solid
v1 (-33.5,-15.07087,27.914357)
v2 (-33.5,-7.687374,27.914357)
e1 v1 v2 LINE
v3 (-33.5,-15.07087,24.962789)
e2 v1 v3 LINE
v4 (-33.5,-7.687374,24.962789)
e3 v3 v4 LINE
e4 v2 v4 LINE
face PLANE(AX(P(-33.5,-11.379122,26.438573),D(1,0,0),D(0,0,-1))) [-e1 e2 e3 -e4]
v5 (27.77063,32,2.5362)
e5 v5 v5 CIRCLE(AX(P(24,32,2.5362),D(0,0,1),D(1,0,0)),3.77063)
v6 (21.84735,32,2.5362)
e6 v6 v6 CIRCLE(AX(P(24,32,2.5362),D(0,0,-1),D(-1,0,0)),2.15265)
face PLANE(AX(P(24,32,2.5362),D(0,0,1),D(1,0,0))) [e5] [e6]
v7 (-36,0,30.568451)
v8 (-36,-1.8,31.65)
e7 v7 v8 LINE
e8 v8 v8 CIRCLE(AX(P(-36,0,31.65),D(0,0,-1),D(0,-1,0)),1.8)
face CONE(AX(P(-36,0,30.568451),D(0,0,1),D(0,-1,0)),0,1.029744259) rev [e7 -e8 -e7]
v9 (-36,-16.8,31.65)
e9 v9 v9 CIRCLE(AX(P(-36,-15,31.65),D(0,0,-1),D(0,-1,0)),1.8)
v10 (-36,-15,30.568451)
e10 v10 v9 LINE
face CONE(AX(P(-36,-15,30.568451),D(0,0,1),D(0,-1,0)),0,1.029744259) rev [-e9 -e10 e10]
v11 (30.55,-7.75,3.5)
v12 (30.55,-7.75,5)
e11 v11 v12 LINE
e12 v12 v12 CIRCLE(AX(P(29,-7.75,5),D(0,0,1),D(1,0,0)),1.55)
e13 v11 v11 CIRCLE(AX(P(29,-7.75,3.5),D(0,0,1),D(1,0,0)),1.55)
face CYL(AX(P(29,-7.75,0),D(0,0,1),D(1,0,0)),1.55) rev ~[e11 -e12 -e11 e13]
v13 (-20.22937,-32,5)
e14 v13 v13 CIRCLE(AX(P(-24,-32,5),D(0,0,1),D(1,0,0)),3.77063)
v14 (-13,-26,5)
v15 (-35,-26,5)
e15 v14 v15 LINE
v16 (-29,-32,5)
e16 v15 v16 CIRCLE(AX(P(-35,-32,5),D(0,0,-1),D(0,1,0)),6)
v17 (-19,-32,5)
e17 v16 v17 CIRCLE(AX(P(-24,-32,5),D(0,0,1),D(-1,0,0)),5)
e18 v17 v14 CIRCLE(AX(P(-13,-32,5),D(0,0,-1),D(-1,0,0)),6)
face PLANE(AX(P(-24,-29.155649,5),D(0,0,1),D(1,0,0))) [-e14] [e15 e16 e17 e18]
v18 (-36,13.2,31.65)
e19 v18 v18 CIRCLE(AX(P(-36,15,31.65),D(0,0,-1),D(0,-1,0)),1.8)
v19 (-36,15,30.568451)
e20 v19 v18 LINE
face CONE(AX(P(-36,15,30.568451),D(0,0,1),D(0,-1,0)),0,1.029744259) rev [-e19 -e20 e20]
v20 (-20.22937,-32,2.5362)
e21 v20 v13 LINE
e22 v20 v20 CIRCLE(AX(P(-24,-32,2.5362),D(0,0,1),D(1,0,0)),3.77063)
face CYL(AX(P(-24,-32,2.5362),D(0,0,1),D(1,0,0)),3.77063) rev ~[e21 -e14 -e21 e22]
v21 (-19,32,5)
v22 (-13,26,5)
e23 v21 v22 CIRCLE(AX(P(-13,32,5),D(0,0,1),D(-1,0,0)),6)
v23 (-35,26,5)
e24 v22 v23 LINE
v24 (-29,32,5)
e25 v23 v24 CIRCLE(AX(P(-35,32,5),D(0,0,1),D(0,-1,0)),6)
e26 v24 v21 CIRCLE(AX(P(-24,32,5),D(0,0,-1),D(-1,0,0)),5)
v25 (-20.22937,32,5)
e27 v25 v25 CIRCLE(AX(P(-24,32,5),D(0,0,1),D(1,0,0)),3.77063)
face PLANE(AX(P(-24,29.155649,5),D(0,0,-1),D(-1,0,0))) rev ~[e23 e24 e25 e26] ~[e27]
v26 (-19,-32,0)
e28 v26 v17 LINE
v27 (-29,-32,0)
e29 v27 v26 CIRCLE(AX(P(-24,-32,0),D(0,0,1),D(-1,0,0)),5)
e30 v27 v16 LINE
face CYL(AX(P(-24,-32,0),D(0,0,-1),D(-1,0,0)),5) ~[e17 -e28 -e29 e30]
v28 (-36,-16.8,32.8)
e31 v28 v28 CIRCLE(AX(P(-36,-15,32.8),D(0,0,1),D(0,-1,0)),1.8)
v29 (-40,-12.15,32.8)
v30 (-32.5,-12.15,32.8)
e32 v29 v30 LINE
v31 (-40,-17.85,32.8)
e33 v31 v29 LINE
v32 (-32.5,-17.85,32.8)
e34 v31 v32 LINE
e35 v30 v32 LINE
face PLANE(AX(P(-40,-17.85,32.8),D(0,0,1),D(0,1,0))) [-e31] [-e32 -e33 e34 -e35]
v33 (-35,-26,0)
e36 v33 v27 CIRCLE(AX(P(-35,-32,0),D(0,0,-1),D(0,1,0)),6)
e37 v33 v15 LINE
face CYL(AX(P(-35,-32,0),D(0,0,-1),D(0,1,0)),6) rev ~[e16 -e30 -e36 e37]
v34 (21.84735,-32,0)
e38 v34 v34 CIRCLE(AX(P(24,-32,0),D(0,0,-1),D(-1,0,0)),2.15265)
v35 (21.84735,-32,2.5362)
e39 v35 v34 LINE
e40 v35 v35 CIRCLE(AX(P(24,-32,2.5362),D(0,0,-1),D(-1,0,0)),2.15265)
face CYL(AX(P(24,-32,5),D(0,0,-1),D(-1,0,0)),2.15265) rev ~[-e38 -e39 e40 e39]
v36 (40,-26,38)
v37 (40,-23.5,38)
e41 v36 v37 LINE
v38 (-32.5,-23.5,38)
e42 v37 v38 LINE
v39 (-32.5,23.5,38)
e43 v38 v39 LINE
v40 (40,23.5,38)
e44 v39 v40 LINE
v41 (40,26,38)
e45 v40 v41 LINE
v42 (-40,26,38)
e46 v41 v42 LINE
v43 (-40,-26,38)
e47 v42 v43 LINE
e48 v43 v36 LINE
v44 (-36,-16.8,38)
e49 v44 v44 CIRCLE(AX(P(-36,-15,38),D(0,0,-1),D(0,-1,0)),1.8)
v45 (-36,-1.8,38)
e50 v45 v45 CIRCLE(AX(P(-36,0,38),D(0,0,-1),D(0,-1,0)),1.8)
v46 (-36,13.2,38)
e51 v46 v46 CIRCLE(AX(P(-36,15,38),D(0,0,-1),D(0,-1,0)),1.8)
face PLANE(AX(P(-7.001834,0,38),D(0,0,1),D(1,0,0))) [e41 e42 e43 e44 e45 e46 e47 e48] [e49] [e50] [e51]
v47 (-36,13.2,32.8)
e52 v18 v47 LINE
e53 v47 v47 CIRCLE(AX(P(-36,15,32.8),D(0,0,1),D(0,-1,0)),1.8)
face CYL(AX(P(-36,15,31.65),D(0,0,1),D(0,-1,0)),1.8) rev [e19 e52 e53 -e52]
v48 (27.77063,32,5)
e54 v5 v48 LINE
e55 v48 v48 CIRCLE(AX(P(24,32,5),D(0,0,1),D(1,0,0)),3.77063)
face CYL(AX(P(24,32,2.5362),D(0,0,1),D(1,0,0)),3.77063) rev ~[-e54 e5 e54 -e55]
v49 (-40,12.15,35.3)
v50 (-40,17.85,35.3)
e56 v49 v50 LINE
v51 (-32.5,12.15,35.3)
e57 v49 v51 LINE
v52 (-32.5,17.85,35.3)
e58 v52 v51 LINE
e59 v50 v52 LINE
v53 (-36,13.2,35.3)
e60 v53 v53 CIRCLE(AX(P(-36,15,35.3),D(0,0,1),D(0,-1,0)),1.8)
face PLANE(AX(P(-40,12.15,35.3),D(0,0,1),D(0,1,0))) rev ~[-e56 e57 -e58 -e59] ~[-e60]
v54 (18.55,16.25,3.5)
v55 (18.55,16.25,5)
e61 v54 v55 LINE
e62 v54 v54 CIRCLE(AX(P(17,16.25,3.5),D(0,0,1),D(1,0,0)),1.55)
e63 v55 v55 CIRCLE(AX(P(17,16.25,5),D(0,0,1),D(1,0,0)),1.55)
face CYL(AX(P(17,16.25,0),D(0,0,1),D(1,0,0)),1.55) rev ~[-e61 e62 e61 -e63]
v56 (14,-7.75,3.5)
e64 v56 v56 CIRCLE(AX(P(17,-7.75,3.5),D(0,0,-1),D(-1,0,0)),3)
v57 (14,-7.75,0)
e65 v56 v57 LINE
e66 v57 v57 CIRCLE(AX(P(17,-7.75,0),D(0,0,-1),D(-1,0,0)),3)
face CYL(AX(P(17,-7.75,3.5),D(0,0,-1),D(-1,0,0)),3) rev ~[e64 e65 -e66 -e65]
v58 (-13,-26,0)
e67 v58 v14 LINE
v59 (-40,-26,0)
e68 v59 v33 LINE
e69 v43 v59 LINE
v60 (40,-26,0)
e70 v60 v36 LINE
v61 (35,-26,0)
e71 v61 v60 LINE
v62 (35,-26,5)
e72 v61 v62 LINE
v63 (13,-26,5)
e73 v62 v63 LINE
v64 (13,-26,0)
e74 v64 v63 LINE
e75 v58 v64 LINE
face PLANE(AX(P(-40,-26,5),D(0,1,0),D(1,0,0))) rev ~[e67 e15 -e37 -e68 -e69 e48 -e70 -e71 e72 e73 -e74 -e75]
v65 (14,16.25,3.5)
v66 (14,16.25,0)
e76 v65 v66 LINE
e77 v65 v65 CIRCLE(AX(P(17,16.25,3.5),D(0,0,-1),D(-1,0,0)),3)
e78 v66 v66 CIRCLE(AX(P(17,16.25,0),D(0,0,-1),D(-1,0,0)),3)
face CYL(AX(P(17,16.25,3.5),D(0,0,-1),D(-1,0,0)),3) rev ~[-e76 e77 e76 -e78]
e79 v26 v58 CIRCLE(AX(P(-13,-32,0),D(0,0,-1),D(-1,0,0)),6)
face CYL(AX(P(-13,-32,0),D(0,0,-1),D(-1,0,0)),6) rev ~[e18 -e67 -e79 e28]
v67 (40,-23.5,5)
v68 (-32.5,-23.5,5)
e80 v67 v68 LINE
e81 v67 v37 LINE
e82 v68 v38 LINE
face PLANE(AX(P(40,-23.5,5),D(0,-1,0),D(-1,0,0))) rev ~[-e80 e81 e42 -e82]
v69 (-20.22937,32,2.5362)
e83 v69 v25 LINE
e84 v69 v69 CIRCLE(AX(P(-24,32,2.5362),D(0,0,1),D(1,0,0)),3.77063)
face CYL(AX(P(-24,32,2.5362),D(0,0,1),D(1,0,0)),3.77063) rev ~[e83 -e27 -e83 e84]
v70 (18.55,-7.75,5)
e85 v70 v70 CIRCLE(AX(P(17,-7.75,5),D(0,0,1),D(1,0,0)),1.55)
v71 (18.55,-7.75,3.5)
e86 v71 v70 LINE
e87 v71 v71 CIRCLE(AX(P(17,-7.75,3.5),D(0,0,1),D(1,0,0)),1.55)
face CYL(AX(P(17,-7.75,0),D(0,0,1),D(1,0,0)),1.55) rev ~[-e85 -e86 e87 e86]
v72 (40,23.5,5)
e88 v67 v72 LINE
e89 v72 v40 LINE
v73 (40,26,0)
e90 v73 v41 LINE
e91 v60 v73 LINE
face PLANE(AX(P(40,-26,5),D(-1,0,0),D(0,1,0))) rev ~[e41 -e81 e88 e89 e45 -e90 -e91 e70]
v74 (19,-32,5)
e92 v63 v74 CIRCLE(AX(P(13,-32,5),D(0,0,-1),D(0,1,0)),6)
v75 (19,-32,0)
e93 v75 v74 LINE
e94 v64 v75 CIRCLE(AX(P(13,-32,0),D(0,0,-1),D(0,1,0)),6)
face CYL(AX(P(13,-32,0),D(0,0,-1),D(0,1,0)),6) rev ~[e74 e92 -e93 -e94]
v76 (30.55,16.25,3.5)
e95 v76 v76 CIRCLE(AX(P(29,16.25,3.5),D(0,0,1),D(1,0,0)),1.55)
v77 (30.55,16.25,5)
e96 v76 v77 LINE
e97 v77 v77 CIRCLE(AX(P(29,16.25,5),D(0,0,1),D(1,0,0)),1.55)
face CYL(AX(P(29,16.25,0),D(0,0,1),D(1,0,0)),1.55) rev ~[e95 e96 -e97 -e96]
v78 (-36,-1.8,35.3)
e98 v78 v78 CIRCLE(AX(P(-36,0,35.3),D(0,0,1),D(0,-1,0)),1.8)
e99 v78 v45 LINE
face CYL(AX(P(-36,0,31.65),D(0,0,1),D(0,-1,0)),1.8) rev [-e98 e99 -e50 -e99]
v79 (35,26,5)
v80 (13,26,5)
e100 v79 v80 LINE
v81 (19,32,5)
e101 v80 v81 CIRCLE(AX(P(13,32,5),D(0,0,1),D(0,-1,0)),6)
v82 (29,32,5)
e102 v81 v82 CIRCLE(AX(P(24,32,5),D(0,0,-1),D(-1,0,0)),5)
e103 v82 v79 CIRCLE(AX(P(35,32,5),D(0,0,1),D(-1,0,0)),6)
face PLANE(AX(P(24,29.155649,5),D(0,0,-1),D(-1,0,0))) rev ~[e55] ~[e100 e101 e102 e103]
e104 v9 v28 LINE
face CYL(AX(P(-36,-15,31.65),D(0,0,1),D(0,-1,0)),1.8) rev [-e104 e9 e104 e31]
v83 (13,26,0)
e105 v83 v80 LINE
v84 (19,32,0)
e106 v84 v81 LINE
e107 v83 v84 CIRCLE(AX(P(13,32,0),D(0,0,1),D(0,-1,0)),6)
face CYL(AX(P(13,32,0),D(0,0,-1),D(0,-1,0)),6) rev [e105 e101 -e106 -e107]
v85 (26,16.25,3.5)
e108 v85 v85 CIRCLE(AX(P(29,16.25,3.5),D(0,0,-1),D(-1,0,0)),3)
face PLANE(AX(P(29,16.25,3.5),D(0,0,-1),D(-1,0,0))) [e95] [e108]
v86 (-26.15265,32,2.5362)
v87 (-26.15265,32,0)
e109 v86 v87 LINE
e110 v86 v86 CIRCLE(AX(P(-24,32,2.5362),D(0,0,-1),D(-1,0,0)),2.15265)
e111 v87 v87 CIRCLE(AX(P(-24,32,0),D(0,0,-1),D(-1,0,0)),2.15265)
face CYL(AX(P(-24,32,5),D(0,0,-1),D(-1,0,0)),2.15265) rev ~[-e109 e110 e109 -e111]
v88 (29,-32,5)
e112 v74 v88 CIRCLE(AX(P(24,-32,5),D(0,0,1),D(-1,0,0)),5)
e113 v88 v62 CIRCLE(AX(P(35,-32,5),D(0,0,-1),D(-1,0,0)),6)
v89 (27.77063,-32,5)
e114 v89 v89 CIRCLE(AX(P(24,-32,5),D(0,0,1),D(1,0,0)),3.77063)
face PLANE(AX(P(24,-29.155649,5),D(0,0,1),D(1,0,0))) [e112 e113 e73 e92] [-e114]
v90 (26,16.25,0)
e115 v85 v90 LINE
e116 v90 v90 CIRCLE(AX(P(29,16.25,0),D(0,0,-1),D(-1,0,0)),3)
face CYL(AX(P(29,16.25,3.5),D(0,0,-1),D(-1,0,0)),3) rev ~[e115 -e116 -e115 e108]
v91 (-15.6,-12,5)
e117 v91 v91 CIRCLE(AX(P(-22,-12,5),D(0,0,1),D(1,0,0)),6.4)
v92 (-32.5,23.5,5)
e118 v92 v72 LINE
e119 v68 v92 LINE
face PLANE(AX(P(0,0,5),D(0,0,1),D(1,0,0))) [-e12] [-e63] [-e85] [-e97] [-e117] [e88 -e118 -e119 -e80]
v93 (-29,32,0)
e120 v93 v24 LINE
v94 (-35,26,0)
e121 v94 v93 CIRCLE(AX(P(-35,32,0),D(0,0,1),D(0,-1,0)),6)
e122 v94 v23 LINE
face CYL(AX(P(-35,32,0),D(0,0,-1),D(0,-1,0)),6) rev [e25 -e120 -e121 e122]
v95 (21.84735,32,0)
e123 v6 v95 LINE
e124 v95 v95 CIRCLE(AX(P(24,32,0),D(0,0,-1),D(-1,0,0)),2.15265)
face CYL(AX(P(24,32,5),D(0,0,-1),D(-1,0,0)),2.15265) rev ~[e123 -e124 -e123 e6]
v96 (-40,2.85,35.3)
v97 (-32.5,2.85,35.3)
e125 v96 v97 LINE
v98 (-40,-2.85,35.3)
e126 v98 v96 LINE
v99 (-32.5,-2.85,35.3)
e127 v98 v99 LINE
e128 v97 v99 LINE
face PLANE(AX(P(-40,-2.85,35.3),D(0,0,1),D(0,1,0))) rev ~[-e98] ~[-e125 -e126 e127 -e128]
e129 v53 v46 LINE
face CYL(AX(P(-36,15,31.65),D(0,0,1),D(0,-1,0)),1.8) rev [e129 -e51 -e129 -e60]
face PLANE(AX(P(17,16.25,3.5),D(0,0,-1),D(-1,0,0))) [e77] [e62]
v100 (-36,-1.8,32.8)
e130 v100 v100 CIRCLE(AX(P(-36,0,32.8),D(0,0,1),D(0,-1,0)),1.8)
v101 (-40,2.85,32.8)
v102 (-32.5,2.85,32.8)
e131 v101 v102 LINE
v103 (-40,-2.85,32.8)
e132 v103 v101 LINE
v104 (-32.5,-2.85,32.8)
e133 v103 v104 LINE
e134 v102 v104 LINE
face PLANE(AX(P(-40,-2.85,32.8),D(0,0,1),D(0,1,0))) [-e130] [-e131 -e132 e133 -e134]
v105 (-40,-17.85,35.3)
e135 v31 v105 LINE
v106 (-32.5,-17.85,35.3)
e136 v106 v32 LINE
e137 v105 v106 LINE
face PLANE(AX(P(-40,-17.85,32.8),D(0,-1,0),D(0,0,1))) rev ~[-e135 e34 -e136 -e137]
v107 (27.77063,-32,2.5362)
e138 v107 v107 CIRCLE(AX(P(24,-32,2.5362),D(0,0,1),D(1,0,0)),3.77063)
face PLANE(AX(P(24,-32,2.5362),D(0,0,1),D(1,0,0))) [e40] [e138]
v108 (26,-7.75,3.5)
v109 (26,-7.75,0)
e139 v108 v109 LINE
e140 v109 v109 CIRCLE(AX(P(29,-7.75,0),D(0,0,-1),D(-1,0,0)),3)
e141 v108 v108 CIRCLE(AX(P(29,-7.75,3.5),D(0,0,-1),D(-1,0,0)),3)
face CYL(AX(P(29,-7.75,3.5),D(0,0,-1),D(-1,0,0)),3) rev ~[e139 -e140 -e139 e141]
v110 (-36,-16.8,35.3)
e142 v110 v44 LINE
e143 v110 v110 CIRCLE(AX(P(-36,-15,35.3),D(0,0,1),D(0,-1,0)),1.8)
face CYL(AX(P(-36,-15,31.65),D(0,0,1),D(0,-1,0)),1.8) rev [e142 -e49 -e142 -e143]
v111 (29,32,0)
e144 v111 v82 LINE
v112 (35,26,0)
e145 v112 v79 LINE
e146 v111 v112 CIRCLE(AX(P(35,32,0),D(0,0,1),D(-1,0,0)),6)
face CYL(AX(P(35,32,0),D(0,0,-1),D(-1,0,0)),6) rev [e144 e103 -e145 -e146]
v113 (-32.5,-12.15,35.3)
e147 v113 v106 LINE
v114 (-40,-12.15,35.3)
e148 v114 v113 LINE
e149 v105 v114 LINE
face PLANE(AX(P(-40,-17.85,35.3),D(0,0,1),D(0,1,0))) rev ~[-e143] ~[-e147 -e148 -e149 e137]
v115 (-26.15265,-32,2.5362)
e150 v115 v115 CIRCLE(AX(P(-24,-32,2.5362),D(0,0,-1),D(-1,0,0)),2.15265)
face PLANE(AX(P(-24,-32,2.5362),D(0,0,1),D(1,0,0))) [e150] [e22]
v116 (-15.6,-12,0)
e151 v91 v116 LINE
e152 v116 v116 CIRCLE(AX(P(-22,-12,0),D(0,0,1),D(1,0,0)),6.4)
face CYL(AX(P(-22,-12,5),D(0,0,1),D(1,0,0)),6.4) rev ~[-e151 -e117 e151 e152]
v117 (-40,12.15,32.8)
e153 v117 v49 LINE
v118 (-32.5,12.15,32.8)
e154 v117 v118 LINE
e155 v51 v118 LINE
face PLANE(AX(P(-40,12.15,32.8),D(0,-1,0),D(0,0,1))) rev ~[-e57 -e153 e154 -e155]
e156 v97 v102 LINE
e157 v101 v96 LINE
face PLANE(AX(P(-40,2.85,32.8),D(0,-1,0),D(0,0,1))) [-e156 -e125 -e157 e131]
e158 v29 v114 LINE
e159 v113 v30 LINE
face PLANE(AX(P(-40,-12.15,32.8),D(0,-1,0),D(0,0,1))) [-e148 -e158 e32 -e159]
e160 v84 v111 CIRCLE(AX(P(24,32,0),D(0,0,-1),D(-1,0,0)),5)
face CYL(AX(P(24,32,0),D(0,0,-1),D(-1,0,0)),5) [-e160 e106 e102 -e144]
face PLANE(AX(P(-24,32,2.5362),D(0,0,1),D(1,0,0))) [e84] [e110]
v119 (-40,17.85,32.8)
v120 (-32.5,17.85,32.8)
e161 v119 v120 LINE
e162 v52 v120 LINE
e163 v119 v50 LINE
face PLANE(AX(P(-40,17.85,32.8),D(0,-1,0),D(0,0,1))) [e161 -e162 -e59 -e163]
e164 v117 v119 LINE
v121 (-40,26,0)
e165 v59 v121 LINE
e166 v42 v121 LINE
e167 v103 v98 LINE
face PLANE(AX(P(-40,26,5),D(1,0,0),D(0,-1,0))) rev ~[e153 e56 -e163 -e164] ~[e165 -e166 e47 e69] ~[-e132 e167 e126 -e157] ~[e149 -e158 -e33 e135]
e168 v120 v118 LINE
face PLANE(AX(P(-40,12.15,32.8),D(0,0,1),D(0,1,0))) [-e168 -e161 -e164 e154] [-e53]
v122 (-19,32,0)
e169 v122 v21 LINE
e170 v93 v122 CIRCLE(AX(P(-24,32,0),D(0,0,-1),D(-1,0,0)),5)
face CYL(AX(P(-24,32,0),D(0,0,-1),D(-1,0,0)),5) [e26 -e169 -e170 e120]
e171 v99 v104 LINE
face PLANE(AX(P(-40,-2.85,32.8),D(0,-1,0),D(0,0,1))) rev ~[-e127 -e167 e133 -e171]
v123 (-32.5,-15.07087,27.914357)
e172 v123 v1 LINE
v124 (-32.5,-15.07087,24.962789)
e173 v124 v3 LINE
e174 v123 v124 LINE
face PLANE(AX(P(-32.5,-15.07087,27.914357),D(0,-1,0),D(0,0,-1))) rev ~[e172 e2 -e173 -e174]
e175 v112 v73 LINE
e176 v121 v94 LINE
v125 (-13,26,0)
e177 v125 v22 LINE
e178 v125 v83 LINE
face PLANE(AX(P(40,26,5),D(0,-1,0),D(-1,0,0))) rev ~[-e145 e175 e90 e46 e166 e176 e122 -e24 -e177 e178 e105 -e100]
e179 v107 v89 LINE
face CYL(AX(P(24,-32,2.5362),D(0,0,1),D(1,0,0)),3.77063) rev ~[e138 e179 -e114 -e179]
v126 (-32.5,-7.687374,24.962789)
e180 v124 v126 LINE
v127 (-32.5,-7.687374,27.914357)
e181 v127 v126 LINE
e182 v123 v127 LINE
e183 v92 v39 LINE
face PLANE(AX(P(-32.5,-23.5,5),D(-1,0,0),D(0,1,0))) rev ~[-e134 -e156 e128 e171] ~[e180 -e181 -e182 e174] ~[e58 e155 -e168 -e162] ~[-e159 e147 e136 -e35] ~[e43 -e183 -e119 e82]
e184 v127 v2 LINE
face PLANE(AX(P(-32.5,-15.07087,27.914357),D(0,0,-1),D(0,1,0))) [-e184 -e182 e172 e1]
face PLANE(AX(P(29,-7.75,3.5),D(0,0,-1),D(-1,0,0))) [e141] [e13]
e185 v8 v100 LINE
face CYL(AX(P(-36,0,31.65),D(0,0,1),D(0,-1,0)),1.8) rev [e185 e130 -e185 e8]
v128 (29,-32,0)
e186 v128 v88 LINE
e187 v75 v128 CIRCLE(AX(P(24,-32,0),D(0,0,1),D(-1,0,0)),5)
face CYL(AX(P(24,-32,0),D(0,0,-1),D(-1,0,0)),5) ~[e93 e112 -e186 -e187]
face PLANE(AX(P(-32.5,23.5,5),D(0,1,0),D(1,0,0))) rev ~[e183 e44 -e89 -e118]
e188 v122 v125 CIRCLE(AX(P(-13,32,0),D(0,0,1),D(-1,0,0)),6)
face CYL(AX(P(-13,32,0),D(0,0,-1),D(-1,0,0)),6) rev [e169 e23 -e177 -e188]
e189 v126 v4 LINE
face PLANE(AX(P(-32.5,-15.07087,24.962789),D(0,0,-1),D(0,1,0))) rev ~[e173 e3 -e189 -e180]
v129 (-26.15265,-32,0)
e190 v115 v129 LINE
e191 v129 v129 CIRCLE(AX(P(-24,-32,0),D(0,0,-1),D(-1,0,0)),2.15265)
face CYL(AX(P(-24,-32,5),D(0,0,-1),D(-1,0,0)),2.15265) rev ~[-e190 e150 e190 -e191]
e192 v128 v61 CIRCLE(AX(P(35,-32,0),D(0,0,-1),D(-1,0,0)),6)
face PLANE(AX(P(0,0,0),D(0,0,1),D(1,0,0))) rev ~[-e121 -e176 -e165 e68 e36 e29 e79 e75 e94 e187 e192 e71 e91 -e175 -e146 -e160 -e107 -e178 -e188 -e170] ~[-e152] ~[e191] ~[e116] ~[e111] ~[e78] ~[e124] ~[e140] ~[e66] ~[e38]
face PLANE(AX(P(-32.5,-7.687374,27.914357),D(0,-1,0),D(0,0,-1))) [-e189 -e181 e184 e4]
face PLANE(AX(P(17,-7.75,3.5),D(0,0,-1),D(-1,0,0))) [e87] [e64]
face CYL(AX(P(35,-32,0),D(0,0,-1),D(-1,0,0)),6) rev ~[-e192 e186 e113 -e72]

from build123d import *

# Parameters (mm, degrees)
ESQUISSE3_W                                        = 80
ESQUISSE3_H                                        = 52
BOSS_EXTRU_1_DEPTH                                 = 5
ESQUISSE4_R                                        = 6.4
ENL_V_MAT_EXTRU_1_DEPTH                            = 10
BOSS_EXTRU_2_DEPTH                                 = 33
CHAMBRAGE_POUR_VIS_T_TE_RONDE_BOMB_E_M_D           = 3.1
CHAMBRAGE_POUR_VIS_T_TE_RONDE_BOMB_E_M_CBORE_D     = 6
CHAMBRAGE_POUR_VIS_T_TE_RONDE_BOMB_E_M_CBORE_DEPTH = 3.5
R_P_TITION_LIN_AIRE1_COUNT                         = 2
R_P_TITION_LIN_AIRE1_PITCH                         = 12
R_P_TITION_LIN_AIRE1_COUNT_DIR2                    = 2
R_P_TITION_LIN_AIRE1_PITCH_DIR2                    = 24
ENL_V_MAT_EXTRU_2_REACH                            = 94.304
ESQUISSE11_W                                       = 2.5
ESQUISSE11_H                                       = 5.7
R_P_TITION_LIN_AIRE2_COUNT                         = 3
R_P_TITION_LIN_AIRE2_PITCH                         = 15
R_P_TITION_LIN_AIRE3_COUNT                         = 3
R_P_TITION_LIN_AIRE3_PITCH                         = 15
BOSS_EXTRU_3_DEPTH                                 = 5
CHAMBRAGE_POUR_VIS_T_TE_RONDE_BOMB_E_D             = 4.3053
CHAMBRAGE_POUR_VIS_T_TE_RONDE_BOMB_E_CBORE_D       = 7.54126
CHAMBRAGE_POUR_VIS_T_TE_RONDE_BOMB_E_CBORE_DEPTH   = 2.4638
ESQUISSE19_W                                       = 2.951567909
ESQUISSE19_H                                       = 7.383496099
ENL_V_MAT_EXTRU_3_DEPTH                            = 1


with BuildPart() as part:
    # Esquisse3 → Boss.-Extru.1 (new body)
    with BuildSketch(Plane.XY):
        Rectangle(ESQUISSE3_W, ESQUISSE3_H)
    extrude(amount=BOSS_EXTRU_1_DEPTH)

    # Esquisse4 → Enlèv. mat.-Extru.1 (cut)
    with BuildSketch(Plane.XY.offset(5)):
        with Locations((-22, -12)):
            Circle(ESQUISSE4_R)
    extrude(amount=-ENL_V_MAT_EXTRU_1_DEPTH, mode=Mode.SUBTRACT)

    # Esquisse5 → Boss.-Extru.2 (add)
    with BuildSketch(Plane.XY.offset(5)):
        Polygon((-40, -26), (40, -26), (40, -23.5), (-32.5, -23.5), (-32.5, 23.5), (40, 23.5), (40, 26), (-40, 26), align=None)
    extrude(amount=BOSS_EXTRU_2_DEPTH)

    # Chambrage pour vis à tête ronde bombée M2.51 (through all)
    with Locations(Plane(origin=(0, 0, 0), x_dir=(-1, 0, 0), z_dir=(0, 0, -1))):
        with Locations((-17, 16.25)):
            chambrage_pour_vis_t_te_ronde_bomb_e_m = CounterBoreHole(CHAMBRAGE_POUR_VIS_T_TE_RONDE_BOMB_E_M_D / 2, CHAMBRAGE_POUR_VIS_T_TE_RONDE_BOMB_E_M_CBORE_D / 2, CHAMBRAGE_POUR_VIS_T_TE_RONDE_BOMB_E_M_CBORE_DEPTH)

    # Répétition linéaire1: Chambrage pour vis à tête ronde bombée #61 M 2 × 2
    with Locations(*[(i * R_P_TITION_LIN_AIRE1_PITCH, -j * R_P_TITION_LIN_AIRE1_PITCH_DIR2, 0) for i in range(R_P_TITION_LIN_AIRE1_COUNT) for j in range(R_P_TITION_LIN_AIRE1_COUNT_DIR2) if (i, j) != (0, 0)]):
        add(chambrage_pour_vis_t_te_ronde_bomb_e_m, mode=Mode.SUBTRACT)

    # Esquisse11 → Enlèv. mat.-Extru.2 (cut, up to next)
    with BuildSketch(Plane.ZY.offset(40), mode=Mode.PRIVATE) as enl_v_mat_extru_2_sk1:
        with Locations((34.05, 15)):
            Rectangle(ESQUISSE11_W, ESQUISSE11_H)
    enl_v_mat_extru_2_tool1 = extrude(enl_v_mat_extru_2_sk1.sketch, amount=-ENL_V_MAT_EXTRU_2_REACH, mode=Mode.PRIVATE) & part.part
    enl_v_mat_extru_2 = enl_v_mat_extru_2_tool1.solids().sort_by_distance((-40, 15, 34.05))[0]
    add(enl_v_mat_extru_2, mode=Mode.SUBTRACT)

    # Répétition linéaire2: Enlèv. mat.-Extru.2 ×3
    with Locations(*[(0, -i * R_P_TITION_LIN_AIRE2_PITCH, 0) for i in range(1, R_P_TITION_LIN_AIRE2_COUNT)]):
        add(enl_v_mat_extru_2, mode=Mode.SUBTRACT)

    # Esquisse15 → Dégagement M31 (revolve, cut)
    with BuildSketch(Plane(origin=(-36, 15, 38), x_dir=(0, -1, 0), z_dir=(1, 0, 0))):
        Polygon((0, 0), (0, 7.431549114), (1.8, 6.35), (1.8, 0), align=None)
    d_gagement_m31 = revolve(axis=Axis((-36, 15, 44.35), (0, 0, -1)), mode=Mode.SUBTRACT)

    # Répétition linéaire3: Dégagement M31 ×3
    with Locations(*[(0, -i * R_P_TITION_LIN_AIRE3_PITCH, 0) for i in range(1, R_P_TITION_LIN_AIRE3_COUNT)]):
        add(d_gagement_m31, mode=Mode.SUBTRACT)

    # Esquisse16 → Boss.-Extru.3 (add)
    with BuildSketch(Plane(origin=(0, 0, 0), x_dir=(-1, 0, 0), z_dir=(0, 0, -1))):
        with BuildLine():
            Line((-35, 26), (-13, 26))
            ThreePointArc((-13, 26), (-17.242640687, 27.757359313), (-19, 32))
            ThreePointArc((-19, 32), (-24, 37), (-29, 32))
            ThreePointArc((-29, 32), (-30.757359313, 27.757359313), (-35, 26))
        make_face()
        with BuildLine():
            Line((13, 26), (35, 26))
            ThreePointArc((35, 26), (30.757359313, 27.757359313), (29, 32))
            ThreePointArc((29, 32), (24, 37), (19, 32))
            ThreePointArc((19, 32), (17.242640687, 27.757359313), (13, 26))
        make_face()
        with BuildLine():
            Line((-35, -26), (-13, -26))
            ThreePointArc((-13, -26), (-17.242640687, -27.757359313), (-19, -32))
            ThreePointArc((-19, -32), (-24, -37), (-29, -32))
            ThreePointArc((-29, -32), (-30.757359313, -27.757359313), (-35, -26))
        make_face()
        with BuildLine():
            Line((13, -26), (35, -26))
            ThreePointArc((35, -26), (30.757359313, -27.757359313), (29, -32))
            ThreePointArc((29, -32), (24, -37), (19, -32))
            ThreePointArc((19, -32), (17.242640687, -27.757359313), (13, -26))
        make_face()
    extrude(amount=-BOSS_EXTRU_3_DEPTH)

    # Chambrage pour vis à tête ronde bombée #61 (through all)
    with Locations(Plane.XY.offset(5)):
        with Locations((-24, 32), (24, 32), (24, -32), (-24, -32)):
            CounterBoreHole(CHAMBRAGE_POUR_VIS_T_TE_RONDE_BOMB_E_D / 2, CHAMBRAGE_POUR_VIS_T_TE_RONDE_BOMB_E_CBORE_D / 2, CHAMBRAGE_POUR_VIS_T_TE_RONDE_BOMB_E_CBORE_DEPTH)

    # Esquisse19 → Enlèv. mat.-Extru.3 (cut)
    with BuildSketch(Plane(origin=(-32.5, 0, 0), x_dir=(0, 0, -1), z_dir=(1, 0, 0))):
        with Locations((-26.438573375, -11.379122074)):
            Rectangle(ESQUISSE19_W, ESQUISSE19_H)
    extrude(amount=-ENL_V_MAT_EXTRU_3_DEPTH, mode=Mode.SUBTRACT)


solid = part.part
